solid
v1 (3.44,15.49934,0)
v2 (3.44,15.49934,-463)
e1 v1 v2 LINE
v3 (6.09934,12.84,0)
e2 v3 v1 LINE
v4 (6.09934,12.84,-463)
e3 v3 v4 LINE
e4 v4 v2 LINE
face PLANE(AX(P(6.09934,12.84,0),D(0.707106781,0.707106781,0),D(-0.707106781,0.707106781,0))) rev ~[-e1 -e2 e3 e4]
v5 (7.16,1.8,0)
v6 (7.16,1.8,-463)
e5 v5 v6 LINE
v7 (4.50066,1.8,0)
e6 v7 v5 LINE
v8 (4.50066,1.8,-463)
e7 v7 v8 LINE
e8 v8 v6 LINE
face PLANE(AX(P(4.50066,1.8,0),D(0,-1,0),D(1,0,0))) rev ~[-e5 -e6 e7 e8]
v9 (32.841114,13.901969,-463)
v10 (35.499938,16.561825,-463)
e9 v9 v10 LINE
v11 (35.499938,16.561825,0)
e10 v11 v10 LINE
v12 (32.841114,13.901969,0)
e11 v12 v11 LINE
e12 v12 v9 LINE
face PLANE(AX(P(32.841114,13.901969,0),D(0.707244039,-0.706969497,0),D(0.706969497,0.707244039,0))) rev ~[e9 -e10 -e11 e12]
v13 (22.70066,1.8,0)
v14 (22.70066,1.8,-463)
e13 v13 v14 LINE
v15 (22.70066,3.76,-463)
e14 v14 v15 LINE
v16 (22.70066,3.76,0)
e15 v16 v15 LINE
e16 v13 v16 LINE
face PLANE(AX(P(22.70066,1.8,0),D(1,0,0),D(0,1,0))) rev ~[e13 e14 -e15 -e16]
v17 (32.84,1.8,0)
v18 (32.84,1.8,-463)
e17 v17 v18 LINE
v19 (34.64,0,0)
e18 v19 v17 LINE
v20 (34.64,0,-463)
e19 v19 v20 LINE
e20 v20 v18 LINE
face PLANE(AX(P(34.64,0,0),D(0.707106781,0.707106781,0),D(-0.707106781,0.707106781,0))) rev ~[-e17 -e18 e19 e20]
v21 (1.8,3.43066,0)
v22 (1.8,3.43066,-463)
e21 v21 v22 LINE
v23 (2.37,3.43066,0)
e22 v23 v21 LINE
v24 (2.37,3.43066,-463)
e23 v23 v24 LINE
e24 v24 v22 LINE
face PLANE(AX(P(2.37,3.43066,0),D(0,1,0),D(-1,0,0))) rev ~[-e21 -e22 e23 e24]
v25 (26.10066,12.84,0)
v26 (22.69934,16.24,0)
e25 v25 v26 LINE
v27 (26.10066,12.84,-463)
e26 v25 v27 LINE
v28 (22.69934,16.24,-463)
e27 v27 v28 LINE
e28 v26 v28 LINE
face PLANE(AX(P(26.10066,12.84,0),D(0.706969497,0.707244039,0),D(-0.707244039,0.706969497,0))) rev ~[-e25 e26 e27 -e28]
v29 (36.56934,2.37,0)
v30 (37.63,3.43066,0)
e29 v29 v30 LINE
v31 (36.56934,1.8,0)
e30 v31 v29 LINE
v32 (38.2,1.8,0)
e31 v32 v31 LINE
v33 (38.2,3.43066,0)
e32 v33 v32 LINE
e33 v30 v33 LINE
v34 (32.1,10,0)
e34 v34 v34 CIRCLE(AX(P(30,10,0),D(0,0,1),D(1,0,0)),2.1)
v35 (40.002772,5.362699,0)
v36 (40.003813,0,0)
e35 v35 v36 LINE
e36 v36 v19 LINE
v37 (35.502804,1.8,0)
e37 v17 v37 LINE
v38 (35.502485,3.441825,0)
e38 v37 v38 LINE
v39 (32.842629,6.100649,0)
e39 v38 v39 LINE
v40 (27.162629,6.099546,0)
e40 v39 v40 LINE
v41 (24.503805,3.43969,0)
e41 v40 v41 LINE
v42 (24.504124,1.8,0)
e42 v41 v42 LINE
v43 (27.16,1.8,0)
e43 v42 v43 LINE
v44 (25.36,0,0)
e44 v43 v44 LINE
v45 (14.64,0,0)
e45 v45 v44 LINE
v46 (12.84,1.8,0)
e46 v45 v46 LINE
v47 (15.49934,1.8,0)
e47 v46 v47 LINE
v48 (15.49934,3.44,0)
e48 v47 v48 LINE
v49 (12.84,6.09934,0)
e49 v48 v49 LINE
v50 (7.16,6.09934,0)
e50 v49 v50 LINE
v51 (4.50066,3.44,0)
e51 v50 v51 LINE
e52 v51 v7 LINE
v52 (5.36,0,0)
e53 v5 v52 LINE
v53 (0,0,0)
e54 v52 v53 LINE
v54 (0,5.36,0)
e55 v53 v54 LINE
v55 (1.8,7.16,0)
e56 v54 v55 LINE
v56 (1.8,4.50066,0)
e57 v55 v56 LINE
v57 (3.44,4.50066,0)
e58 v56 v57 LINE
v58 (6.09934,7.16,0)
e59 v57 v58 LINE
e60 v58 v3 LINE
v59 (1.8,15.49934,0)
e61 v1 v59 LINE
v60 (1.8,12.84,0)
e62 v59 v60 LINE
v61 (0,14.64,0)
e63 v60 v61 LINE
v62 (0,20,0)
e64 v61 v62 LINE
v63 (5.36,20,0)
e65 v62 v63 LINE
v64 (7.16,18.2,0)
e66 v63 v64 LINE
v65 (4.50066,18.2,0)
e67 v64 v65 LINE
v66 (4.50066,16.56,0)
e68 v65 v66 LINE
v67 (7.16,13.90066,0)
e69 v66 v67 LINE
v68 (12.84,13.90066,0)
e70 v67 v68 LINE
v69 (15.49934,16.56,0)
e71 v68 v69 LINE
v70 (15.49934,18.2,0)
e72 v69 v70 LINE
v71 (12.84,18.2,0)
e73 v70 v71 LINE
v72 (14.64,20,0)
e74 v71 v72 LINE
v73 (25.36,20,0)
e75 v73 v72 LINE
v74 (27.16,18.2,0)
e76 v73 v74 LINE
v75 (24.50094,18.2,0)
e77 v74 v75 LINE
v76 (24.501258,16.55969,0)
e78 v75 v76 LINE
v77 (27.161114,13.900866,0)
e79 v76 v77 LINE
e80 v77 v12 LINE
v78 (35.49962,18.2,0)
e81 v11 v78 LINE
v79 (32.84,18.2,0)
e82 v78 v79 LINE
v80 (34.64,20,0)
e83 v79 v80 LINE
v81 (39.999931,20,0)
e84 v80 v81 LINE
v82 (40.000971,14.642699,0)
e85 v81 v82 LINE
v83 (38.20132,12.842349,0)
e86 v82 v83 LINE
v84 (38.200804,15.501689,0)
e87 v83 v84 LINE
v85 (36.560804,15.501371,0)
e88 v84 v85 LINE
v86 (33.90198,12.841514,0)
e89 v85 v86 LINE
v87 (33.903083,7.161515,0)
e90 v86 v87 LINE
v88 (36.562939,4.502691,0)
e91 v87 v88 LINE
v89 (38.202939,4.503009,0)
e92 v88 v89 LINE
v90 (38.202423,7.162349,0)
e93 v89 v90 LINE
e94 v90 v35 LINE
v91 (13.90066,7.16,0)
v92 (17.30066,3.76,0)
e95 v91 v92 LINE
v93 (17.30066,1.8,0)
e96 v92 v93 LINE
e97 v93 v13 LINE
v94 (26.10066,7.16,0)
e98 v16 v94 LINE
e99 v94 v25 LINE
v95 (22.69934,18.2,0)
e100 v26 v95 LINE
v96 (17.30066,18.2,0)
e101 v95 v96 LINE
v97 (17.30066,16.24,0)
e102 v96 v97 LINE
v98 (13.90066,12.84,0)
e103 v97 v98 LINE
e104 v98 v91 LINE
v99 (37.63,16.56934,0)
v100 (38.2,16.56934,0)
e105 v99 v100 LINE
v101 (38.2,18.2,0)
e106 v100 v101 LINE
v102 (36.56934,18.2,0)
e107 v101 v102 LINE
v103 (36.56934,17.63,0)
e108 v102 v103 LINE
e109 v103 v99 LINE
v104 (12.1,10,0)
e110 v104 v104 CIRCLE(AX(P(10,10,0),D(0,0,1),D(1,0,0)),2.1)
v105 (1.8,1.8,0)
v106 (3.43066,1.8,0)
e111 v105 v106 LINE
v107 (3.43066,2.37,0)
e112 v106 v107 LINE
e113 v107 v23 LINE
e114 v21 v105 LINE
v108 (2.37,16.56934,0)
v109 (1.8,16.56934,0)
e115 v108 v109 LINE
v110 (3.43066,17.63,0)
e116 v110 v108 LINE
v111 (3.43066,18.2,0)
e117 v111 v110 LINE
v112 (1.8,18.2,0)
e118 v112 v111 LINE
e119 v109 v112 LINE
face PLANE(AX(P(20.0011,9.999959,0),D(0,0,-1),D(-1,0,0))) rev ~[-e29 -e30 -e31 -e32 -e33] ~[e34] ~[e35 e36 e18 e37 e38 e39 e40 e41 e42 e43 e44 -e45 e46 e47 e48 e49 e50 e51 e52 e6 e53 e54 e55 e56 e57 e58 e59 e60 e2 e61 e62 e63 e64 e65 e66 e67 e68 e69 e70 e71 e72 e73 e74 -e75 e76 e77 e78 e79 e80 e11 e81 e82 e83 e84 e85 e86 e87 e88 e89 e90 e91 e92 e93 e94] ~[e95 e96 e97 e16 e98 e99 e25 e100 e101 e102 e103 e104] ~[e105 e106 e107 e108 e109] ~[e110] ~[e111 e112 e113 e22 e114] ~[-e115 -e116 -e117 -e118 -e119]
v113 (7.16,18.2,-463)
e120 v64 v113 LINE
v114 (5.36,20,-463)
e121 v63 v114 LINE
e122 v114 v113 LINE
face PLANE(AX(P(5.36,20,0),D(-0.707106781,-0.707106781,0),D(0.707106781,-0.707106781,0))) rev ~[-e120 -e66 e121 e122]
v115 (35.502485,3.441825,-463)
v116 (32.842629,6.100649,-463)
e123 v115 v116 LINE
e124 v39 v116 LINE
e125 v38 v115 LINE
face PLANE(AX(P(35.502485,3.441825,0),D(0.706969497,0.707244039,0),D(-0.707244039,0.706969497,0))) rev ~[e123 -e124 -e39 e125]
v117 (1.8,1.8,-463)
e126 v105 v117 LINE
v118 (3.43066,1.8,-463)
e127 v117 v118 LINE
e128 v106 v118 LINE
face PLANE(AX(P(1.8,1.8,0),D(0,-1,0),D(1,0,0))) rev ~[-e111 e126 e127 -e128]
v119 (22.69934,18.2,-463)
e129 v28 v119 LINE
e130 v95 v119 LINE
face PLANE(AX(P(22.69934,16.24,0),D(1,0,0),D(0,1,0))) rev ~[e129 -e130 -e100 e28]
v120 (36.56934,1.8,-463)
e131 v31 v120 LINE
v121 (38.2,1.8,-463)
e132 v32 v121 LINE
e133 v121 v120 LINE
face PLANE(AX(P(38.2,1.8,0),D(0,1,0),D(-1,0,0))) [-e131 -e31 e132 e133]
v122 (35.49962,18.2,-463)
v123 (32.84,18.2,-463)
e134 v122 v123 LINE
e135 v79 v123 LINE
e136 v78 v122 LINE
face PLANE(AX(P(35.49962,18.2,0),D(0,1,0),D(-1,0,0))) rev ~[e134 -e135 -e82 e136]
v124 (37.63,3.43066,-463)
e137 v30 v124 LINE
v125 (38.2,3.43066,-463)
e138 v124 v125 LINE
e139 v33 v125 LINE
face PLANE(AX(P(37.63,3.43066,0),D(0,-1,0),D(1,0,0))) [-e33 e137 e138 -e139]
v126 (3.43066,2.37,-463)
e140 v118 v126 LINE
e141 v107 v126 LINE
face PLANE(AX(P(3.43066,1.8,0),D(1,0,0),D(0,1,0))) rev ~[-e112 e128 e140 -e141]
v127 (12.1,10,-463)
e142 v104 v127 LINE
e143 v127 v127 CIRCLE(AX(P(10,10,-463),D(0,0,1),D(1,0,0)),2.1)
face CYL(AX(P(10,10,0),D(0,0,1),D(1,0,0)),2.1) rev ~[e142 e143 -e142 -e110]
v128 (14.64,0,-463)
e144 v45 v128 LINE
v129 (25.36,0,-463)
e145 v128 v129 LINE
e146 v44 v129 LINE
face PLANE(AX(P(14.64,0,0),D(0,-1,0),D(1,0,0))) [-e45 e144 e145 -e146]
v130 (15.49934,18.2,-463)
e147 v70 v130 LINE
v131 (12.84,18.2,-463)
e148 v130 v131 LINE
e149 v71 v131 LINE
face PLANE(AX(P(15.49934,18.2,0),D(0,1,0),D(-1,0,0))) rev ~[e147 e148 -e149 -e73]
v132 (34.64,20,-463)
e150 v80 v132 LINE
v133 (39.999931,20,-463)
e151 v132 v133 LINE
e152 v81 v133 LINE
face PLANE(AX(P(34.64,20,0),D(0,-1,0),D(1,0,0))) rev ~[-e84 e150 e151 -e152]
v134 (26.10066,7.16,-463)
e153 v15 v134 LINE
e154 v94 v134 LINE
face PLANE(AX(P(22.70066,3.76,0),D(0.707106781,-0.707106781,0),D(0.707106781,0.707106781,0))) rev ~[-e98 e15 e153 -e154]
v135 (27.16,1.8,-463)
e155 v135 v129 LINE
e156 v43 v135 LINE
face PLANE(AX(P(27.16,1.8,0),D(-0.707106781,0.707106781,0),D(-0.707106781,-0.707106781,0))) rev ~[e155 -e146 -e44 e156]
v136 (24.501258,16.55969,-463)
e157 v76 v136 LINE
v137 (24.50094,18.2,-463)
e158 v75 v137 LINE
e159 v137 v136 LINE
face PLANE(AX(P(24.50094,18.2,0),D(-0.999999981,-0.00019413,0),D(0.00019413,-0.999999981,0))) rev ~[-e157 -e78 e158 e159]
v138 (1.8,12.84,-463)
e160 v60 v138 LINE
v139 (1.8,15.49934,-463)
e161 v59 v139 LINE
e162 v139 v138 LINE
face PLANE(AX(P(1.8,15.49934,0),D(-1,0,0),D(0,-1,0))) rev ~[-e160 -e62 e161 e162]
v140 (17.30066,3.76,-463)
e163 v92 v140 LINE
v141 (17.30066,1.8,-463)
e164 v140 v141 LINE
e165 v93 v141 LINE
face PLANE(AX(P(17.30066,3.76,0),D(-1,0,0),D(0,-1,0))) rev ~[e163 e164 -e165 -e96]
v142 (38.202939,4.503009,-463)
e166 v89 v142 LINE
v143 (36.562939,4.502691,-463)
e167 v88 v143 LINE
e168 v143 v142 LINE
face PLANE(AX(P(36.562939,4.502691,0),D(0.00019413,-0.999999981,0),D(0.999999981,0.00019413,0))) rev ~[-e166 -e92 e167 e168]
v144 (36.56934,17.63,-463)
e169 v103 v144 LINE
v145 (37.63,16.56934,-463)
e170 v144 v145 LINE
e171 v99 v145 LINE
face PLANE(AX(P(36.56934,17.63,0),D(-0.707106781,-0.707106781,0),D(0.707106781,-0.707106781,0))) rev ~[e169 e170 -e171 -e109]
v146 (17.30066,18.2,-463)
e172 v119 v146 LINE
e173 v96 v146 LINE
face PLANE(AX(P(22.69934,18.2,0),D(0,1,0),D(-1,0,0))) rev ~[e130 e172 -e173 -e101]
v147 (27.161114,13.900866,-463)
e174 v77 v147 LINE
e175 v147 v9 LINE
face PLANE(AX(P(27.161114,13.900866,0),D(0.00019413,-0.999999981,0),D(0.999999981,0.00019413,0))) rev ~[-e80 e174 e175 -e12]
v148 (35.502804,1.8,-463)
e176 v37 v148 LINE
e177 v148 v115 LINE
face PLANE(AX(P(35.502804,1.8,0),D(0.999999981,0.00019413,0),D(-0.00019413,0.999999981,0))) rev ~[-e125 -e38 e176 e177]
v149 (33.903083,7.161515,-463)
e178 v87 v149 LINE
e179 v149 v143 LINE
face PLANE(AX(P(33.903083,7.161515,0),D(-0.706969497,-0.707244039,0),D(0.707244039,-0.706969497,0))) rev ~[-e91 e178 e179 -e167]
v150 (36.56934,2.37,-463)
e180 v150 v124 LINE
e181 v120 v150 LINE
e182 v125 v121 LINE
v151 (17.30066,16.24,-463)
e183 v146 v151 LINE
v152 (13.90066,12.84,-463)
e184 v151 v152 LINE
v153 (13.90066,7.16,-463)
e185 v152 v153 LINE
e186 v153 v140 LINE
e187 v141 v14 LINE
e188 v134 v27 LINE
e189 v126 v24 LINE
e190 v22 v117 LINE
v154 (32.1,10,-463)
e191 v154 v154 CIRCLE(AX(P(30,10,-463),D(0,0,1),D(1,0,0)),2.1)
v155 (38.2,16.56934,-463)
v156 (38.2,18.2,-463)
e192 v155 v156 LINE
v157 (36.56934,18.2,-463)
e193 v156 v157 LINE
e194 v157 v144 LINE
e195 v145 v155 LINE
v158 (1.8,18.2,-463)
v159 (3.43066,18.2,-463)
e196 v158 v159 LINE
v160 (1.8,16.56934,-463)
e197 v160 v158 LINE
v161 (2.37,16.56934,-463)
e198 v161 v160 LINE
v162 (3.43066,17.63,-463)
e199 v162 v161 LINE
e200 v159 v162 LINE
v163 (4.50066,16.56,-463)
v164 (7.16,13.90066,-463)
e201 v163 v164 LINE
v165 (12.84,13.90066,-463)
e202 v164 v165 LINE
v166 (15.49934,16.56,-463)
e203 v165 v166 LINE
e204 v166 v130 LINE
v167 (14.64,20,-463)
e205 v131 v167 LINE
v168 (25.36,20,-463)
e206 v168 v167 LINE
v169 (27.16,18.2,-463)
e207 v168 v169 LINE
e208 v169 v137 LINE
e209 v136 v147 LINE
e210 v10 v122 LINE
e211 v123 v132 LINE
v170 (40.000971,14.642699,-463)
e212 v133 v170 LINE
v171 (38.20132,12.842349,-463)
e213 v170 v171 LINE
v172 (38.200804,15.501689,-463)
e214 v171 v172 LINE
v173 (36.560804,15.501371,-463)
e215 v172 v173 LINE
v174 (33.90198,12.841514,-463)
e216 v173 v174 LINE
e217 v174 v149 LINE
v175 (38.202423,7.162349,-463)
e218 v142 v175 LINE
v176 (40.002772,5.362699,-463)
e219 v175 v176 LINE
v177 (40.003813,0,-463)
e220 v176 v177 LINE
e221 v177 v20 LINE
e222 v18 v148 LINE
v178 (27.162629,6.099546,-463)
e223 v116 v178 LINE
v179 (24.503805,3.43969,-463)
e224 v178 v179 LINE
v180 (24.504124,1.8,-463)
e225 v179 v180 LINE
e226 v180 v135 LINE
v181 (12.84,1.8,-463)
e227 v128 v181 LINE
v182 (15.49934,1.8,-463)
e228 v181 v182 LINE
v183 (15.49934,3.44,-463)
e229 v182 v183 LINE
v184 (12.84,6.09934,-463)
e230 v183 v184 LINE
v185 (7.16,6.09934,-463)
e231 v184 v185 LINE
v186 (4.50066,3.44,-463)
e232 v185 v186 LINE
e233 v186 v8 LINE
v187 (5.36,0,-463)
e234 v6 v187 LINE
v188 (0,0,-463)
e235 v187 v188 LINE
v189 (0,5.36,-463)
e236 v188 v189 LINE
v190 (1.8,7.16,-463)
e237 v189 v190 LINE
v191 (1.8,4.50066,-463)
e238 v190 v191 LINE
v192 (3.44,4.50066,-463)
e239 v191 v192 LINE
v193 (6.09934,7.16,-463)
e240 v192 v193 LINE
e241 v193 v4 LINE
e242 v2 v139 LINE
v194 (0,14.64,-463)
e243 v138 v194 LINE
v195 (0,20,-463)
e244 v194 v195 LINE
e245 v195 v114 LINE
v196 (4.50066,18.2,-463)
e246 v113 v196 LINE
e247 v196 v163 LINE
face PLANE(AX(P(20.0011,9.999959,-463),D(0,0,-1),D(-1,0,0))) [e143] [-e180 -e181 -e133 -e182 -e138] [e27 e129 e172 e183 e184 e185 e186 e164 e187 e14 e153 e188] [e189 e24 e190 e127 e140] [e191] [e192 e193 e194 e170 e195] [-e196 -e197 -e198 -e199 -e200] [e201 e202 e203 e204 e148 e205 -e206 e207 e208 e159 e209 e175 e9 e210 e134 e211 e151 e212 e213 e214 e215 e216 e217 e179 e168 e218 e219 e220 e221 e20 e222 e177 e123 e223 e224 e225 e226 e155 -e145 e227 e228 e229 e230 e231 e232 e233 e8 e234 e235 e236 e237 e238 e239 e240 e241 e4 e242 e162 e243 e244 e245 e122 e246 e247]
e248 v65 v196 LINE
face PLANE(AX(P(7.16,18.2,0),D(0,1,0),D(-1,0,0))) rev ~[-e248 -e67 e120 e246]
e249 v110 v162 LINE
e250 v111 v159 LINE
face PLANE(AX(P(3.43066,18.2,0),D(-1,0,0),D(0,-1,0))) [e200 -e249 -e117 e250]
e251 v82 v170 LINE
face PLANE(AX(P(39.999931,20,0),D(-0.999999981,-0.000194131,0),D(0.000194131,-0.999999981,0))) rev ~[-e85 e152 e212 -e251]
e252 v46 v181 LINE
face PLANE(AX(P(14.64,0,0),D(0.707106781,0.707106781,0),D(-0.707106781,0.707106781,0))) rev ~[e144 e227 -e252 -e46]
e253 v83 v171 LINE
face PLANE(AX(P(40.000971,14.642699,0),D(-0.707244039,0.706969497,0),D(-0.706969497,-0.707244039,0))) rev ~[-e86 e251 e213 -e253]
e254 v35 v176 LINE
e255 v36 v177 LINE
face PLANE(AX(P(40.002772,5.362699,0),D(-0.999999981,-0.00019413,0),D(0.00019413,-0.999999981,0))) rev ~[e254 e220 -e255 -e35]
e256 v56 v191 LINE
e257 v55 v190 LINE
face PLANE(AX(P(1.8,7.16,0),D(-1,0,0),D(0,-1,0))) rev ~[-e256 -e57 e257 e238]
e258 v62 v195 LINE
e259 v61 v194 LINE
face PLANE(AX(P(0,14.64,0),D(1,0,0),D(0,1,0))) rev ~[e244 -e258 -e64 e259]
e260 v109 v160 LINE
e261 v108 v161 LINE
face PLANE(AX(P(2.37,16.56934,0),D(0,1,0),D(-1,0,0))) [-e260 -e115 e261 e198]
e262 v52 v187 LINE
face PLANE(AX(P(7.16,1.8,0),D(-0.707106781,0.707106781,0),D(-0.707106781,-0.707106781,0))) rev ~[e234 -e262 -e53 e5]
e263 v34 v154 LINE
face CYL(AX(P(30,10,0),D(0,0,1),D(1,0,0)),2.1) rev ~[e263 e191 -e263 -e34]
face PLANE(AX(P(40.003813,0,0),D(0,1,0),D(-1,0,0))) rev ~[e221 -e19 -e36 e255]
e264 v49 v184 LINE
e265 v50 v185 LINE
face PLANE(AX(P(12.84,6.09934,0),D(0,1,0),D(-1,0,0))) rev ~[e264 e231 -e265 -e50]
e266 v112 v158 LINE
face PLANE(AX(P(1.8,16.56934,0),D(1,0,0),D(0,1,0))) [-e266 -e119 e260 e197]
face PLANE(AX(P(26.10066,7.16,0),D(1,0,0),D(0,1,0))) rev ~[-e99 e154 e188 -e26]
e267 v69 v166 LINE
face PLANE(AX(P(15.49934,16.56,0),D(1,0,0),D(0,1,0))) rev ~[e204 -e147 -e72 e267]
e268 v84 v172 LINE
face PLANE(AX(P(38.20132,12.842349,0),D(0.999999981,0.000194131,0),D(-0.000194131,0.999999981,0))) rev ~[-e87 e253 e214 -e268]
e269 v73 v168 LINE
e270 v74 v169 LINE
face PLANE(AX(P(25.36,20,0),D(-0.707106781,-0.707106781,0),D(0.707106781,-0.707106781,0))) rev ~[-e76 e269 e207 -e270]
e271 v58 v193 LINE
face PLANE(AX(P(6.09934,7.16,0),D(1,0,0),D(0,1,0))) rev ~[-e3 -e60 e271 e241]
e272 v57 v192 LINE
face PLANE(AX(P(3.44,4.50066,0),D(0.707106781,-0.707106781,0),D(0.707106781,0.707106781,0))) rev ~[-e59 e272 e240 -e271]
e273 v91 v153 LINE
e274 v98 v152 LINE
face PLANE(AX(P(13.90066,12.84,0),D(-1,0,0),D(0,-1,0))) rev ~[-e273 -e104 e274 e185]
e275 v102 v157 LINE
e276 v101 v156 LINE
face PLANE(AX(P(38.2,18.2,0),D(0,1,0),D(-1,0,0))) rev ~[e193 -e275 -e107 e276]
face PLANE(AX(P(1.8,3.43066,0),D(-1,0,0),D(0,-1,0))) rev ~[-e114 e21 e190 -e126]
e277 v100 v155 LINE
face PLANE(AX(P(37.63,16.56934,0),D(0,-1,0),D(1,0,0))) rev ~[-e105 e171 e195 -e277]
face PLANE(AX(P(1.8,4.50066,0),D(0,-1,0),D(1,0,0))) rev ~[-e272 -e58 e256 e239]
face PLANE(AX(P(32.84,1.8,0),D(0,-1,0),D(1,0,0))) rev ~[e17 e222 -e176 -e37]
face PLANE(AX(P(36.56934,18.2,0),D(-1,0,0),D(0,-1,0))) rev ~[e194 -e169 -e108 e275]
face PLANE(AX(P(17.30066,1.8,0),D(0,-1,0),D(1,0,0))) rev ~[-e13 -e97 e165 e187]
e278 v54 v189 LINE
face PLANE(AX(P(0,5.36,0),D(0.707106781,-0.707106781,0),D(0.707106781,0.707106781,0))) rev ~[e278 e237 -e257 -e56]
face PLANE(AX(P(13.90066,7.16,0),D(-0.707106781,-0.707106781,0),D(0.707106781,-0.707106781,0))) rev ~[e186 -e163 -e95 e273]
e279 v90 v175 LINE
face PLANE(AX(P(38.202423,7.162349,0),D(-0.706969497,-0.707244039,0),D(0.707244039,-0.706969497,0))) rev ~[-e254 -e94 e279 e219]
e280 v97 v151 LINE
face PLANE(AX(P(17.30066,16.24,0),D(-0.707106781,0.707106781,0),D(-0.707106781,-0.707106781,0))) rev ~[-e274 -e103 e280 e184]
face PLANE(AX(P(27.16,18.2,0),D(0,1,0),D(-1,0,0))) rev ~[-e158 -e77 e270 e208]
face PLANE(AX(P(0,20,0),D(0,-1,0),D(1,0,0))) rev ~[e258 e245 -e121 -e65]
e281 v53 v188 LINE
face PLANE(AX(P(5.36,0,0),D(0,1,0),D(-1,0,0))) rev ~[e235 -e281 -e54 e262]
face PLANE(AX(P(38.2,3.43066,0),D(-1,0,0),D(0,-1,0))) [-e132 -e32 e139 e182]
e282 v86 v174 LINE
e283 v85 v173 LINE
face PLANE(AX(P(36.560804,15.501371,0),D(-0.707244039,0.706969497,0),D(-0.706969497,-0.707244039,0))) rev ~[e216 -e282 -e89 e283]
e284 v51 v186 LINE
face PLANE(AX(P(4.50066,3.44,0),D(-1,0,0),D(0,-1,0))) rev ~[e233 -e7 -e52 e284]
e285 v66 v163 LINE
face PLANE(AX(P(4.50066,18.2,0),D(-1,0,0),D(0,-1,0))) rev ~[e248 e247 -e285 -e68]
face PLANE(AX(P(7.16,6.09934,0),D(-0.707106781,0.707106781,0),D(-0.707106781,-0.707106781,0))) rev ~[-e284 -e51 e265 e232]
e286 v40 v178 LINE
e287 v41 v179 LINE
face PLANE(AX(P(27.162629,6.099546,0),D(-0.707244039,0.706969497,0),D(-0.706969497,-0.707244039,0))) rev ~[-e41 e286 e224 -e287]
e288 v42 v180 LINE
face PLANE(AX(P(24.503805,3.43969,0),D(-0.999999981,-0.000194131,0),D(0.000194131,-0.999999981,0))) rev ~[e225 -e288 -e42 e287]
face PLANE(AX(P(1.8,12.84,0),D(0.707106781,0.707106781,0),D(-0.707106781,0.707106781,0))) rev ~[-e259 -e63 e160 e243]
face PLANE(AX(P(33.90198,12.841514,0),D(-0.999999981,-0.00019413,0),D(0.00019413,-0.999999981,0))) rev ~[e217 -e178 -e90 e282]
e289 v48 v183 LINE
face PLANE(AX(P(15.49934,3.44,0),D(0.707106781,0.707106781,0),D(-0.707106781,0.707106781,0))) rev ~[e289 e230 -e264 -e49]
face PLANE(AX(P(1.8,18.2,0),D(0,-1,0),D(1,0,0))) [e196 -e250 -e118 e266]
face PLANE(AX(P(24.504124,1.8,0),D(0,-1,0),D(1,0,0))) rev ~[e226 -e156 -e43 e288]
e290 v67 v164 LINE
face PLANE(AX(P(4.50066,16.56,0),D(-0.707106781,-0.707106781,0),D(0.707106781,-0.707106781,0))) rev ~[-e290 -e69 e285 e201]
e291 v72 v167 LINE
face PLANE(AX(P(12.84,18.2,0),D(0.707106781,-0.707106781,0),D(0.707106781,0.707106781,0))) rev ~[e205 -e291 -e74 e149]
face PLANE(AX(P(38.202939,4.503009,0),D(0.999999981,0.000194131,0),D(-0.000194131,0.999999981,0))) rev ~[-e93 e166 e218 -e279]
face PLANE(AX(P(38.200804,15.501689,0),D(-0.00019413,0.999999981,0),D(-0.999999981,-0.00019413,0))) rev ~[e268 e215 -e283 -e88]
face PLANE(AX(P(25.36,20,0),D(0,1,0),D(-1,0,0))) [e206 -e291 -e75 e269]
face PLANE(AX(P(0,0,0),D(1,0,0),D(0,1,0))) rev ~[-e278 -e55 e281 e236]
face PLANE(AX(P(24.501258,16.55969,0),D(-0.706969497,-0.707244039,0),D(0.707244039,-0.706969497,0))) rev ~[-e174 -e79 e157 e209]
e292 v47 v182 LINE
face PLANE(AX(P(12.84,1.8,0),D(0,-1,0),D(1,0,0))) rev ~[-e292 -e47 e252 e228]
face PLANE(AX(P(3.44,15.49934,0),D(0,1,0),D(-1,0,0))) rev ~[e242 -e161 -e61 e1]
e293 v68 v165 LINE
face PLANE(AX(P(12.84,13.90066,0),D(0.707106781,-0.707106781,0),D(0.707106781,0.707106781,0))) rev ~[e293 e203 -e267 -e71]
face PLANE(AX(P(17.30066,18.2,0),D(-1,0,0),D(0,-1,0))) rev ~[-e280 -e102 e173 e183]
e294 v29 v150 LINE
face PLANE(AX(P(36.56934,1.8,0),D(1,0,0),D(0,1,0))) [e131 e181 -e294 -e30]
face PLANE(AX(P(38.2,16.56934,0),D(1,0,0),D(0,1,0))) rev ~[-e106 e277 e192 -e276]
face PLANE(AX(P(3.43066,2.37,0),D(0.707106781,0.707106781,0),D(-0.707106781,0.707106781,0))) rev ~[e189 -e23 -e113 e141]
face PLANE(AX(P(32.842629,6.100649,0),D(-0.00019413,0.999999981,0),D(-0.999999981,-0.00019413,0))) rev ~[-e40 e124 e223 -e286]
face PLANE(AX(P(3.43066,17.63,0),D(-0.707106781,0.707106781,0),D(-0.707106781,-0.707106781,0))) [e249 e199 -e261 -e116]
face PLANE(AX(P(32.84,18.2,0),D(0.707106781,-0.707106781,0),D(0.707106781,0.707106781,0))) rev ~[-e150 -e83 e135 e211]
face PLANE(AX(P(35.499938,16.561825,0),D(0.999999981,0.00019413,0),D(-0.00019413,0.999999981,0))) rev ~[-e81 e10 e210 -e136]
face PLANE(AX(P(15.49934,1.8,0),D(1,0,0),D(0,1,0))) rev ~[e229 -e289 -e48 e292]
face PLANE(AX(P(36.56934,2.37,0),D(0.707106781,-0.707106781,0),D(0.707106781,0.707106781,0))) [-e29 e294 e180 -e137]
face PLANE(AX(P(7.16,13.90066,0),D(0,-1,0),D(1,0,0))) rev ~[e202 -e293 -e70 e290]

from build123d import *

# Parameters (mm, degrees)
SKETCH1_R           = 2.1
BOSS_EXTRUDE1_DEPTH = 463


with BuildPart() as part:
    # Sketch1 → Boss-Extrude1 (new body)
    with BuildSketch(Plane.XY):
        Polygon((0, 0), (0, 5.36), (1.8, 7.16), (1.8, 4.500660172), (3.44, 4.500660172), (6.099339828, 7.16), (6.099339828, 12.84), (3.44, 15.499339828), (1.8, 15.499339828), (1.8, 12.84), (0, 14.64), (0, 20), (5.36, 20), (7.16, 18.2), (4.500660172, 18.2), (4.500660172, 16.56), (7.16, 13.900660172), (12.84, 13.900660172), (15.499339828, 16.56), (15.499339828, 18.2), (12.84, 18.2), (14.64, 20), (20, 20), (25.36, 20), (27.16, 18.2), (24.500939946, 18.2), (24.50125838, 16.559689577), (27.161114417, 13.900866058), (32.84111431, 13.901968719), (35.499937829, 16.561824756), (35.49961981, 18.2), (32.84, 18.2), (34.64, 20), (39.999930631, 20), (40.000970647, 14.642698508), (38.201320116, 12.842349107), (38.200803857, 15.501688885), (36.560803888, 15.501370511), (33.901980368, 12.841514474), (33.903083029, 7.161514581), (36.562939066, 4.502691062), (38.202939036, 4.503009436), (38.202422777, 7.162349214), (40.002772178, 5.362698683), (40.003813241, 0), (34.64, 0), (32.84, 1.8), (35.502803549, 1.8), (35.502484821, 3.441825004), (32.842628784, 6.100648523), (27.162628891, 6.099545862), (24.503805372, 3.439689825), (24.504123686, 1.8), (27.16, 1.8), (25.36, 0), (20, 0), (14.64, 0), (12.84, 1.8), (15.499339828, 1.8), (15.499339828, 3.44), (12.84, 6.099339828), (7.16, 6.099339828), (4.500660172, 3.44), (4.500660172, 1.8), (7.16, 1.8), (5.36, 0), align=None)
        with Locations((10, 10)):
            Circle(SKETCH1_R, mode=Mode.SUBTRACT)
        with Locations((30, 10)):
            Circle(SKETCH1_R, mode=Mode.SUBTRACT)
        Polygon((17.300660172, 3.76), (17.300660172, 1.8), (22.700660172, 1.8), (22.700660172, 3.76), (26.100660172, 7.16), (26.100660172, 12.84), (22.699339828, 16.24), (22.699339828, 18.2), (17.300660172, 18.2), (17.300660172, 16.24), (13.900660172, 12.84), (13.900660172, 7.16), align=None, mode=Mode.SUBTRACT)
        Polygon((1.8, 18.2), (3.430660172, 18.2), (3.430660172, 17.63), (2.37, 16.569339828), (1.8, 16.569339828), align=None, mode=Mode.SUBTRACT)
        Polygon((1.8, 3.430660172), (1.8, 1.8), (3.430660172, 1.8), (3.430660172, 2.37), (2.37, 3.430660172), align=None, mode=Mode.SUBTRACT)
        Polygon((38.2, 1.8), (36.569339828, 1.8), (36.569339828, 2.37), (37.63, 3.430660172), (38.2, 3.430660172), align=None, mode=Mode.SUBTRACT)
        Polygon((38.2, 16.569339828), (38.2, 18.2), (36.569339828, 18.2), (36.569339828, 17.63), (37.63, 16.569339828), align=None, mode=Mode.SUBTRACT)
    extrude(amount=-BOSS_EXTRUDE1_DEPTH)


solid = part.part
